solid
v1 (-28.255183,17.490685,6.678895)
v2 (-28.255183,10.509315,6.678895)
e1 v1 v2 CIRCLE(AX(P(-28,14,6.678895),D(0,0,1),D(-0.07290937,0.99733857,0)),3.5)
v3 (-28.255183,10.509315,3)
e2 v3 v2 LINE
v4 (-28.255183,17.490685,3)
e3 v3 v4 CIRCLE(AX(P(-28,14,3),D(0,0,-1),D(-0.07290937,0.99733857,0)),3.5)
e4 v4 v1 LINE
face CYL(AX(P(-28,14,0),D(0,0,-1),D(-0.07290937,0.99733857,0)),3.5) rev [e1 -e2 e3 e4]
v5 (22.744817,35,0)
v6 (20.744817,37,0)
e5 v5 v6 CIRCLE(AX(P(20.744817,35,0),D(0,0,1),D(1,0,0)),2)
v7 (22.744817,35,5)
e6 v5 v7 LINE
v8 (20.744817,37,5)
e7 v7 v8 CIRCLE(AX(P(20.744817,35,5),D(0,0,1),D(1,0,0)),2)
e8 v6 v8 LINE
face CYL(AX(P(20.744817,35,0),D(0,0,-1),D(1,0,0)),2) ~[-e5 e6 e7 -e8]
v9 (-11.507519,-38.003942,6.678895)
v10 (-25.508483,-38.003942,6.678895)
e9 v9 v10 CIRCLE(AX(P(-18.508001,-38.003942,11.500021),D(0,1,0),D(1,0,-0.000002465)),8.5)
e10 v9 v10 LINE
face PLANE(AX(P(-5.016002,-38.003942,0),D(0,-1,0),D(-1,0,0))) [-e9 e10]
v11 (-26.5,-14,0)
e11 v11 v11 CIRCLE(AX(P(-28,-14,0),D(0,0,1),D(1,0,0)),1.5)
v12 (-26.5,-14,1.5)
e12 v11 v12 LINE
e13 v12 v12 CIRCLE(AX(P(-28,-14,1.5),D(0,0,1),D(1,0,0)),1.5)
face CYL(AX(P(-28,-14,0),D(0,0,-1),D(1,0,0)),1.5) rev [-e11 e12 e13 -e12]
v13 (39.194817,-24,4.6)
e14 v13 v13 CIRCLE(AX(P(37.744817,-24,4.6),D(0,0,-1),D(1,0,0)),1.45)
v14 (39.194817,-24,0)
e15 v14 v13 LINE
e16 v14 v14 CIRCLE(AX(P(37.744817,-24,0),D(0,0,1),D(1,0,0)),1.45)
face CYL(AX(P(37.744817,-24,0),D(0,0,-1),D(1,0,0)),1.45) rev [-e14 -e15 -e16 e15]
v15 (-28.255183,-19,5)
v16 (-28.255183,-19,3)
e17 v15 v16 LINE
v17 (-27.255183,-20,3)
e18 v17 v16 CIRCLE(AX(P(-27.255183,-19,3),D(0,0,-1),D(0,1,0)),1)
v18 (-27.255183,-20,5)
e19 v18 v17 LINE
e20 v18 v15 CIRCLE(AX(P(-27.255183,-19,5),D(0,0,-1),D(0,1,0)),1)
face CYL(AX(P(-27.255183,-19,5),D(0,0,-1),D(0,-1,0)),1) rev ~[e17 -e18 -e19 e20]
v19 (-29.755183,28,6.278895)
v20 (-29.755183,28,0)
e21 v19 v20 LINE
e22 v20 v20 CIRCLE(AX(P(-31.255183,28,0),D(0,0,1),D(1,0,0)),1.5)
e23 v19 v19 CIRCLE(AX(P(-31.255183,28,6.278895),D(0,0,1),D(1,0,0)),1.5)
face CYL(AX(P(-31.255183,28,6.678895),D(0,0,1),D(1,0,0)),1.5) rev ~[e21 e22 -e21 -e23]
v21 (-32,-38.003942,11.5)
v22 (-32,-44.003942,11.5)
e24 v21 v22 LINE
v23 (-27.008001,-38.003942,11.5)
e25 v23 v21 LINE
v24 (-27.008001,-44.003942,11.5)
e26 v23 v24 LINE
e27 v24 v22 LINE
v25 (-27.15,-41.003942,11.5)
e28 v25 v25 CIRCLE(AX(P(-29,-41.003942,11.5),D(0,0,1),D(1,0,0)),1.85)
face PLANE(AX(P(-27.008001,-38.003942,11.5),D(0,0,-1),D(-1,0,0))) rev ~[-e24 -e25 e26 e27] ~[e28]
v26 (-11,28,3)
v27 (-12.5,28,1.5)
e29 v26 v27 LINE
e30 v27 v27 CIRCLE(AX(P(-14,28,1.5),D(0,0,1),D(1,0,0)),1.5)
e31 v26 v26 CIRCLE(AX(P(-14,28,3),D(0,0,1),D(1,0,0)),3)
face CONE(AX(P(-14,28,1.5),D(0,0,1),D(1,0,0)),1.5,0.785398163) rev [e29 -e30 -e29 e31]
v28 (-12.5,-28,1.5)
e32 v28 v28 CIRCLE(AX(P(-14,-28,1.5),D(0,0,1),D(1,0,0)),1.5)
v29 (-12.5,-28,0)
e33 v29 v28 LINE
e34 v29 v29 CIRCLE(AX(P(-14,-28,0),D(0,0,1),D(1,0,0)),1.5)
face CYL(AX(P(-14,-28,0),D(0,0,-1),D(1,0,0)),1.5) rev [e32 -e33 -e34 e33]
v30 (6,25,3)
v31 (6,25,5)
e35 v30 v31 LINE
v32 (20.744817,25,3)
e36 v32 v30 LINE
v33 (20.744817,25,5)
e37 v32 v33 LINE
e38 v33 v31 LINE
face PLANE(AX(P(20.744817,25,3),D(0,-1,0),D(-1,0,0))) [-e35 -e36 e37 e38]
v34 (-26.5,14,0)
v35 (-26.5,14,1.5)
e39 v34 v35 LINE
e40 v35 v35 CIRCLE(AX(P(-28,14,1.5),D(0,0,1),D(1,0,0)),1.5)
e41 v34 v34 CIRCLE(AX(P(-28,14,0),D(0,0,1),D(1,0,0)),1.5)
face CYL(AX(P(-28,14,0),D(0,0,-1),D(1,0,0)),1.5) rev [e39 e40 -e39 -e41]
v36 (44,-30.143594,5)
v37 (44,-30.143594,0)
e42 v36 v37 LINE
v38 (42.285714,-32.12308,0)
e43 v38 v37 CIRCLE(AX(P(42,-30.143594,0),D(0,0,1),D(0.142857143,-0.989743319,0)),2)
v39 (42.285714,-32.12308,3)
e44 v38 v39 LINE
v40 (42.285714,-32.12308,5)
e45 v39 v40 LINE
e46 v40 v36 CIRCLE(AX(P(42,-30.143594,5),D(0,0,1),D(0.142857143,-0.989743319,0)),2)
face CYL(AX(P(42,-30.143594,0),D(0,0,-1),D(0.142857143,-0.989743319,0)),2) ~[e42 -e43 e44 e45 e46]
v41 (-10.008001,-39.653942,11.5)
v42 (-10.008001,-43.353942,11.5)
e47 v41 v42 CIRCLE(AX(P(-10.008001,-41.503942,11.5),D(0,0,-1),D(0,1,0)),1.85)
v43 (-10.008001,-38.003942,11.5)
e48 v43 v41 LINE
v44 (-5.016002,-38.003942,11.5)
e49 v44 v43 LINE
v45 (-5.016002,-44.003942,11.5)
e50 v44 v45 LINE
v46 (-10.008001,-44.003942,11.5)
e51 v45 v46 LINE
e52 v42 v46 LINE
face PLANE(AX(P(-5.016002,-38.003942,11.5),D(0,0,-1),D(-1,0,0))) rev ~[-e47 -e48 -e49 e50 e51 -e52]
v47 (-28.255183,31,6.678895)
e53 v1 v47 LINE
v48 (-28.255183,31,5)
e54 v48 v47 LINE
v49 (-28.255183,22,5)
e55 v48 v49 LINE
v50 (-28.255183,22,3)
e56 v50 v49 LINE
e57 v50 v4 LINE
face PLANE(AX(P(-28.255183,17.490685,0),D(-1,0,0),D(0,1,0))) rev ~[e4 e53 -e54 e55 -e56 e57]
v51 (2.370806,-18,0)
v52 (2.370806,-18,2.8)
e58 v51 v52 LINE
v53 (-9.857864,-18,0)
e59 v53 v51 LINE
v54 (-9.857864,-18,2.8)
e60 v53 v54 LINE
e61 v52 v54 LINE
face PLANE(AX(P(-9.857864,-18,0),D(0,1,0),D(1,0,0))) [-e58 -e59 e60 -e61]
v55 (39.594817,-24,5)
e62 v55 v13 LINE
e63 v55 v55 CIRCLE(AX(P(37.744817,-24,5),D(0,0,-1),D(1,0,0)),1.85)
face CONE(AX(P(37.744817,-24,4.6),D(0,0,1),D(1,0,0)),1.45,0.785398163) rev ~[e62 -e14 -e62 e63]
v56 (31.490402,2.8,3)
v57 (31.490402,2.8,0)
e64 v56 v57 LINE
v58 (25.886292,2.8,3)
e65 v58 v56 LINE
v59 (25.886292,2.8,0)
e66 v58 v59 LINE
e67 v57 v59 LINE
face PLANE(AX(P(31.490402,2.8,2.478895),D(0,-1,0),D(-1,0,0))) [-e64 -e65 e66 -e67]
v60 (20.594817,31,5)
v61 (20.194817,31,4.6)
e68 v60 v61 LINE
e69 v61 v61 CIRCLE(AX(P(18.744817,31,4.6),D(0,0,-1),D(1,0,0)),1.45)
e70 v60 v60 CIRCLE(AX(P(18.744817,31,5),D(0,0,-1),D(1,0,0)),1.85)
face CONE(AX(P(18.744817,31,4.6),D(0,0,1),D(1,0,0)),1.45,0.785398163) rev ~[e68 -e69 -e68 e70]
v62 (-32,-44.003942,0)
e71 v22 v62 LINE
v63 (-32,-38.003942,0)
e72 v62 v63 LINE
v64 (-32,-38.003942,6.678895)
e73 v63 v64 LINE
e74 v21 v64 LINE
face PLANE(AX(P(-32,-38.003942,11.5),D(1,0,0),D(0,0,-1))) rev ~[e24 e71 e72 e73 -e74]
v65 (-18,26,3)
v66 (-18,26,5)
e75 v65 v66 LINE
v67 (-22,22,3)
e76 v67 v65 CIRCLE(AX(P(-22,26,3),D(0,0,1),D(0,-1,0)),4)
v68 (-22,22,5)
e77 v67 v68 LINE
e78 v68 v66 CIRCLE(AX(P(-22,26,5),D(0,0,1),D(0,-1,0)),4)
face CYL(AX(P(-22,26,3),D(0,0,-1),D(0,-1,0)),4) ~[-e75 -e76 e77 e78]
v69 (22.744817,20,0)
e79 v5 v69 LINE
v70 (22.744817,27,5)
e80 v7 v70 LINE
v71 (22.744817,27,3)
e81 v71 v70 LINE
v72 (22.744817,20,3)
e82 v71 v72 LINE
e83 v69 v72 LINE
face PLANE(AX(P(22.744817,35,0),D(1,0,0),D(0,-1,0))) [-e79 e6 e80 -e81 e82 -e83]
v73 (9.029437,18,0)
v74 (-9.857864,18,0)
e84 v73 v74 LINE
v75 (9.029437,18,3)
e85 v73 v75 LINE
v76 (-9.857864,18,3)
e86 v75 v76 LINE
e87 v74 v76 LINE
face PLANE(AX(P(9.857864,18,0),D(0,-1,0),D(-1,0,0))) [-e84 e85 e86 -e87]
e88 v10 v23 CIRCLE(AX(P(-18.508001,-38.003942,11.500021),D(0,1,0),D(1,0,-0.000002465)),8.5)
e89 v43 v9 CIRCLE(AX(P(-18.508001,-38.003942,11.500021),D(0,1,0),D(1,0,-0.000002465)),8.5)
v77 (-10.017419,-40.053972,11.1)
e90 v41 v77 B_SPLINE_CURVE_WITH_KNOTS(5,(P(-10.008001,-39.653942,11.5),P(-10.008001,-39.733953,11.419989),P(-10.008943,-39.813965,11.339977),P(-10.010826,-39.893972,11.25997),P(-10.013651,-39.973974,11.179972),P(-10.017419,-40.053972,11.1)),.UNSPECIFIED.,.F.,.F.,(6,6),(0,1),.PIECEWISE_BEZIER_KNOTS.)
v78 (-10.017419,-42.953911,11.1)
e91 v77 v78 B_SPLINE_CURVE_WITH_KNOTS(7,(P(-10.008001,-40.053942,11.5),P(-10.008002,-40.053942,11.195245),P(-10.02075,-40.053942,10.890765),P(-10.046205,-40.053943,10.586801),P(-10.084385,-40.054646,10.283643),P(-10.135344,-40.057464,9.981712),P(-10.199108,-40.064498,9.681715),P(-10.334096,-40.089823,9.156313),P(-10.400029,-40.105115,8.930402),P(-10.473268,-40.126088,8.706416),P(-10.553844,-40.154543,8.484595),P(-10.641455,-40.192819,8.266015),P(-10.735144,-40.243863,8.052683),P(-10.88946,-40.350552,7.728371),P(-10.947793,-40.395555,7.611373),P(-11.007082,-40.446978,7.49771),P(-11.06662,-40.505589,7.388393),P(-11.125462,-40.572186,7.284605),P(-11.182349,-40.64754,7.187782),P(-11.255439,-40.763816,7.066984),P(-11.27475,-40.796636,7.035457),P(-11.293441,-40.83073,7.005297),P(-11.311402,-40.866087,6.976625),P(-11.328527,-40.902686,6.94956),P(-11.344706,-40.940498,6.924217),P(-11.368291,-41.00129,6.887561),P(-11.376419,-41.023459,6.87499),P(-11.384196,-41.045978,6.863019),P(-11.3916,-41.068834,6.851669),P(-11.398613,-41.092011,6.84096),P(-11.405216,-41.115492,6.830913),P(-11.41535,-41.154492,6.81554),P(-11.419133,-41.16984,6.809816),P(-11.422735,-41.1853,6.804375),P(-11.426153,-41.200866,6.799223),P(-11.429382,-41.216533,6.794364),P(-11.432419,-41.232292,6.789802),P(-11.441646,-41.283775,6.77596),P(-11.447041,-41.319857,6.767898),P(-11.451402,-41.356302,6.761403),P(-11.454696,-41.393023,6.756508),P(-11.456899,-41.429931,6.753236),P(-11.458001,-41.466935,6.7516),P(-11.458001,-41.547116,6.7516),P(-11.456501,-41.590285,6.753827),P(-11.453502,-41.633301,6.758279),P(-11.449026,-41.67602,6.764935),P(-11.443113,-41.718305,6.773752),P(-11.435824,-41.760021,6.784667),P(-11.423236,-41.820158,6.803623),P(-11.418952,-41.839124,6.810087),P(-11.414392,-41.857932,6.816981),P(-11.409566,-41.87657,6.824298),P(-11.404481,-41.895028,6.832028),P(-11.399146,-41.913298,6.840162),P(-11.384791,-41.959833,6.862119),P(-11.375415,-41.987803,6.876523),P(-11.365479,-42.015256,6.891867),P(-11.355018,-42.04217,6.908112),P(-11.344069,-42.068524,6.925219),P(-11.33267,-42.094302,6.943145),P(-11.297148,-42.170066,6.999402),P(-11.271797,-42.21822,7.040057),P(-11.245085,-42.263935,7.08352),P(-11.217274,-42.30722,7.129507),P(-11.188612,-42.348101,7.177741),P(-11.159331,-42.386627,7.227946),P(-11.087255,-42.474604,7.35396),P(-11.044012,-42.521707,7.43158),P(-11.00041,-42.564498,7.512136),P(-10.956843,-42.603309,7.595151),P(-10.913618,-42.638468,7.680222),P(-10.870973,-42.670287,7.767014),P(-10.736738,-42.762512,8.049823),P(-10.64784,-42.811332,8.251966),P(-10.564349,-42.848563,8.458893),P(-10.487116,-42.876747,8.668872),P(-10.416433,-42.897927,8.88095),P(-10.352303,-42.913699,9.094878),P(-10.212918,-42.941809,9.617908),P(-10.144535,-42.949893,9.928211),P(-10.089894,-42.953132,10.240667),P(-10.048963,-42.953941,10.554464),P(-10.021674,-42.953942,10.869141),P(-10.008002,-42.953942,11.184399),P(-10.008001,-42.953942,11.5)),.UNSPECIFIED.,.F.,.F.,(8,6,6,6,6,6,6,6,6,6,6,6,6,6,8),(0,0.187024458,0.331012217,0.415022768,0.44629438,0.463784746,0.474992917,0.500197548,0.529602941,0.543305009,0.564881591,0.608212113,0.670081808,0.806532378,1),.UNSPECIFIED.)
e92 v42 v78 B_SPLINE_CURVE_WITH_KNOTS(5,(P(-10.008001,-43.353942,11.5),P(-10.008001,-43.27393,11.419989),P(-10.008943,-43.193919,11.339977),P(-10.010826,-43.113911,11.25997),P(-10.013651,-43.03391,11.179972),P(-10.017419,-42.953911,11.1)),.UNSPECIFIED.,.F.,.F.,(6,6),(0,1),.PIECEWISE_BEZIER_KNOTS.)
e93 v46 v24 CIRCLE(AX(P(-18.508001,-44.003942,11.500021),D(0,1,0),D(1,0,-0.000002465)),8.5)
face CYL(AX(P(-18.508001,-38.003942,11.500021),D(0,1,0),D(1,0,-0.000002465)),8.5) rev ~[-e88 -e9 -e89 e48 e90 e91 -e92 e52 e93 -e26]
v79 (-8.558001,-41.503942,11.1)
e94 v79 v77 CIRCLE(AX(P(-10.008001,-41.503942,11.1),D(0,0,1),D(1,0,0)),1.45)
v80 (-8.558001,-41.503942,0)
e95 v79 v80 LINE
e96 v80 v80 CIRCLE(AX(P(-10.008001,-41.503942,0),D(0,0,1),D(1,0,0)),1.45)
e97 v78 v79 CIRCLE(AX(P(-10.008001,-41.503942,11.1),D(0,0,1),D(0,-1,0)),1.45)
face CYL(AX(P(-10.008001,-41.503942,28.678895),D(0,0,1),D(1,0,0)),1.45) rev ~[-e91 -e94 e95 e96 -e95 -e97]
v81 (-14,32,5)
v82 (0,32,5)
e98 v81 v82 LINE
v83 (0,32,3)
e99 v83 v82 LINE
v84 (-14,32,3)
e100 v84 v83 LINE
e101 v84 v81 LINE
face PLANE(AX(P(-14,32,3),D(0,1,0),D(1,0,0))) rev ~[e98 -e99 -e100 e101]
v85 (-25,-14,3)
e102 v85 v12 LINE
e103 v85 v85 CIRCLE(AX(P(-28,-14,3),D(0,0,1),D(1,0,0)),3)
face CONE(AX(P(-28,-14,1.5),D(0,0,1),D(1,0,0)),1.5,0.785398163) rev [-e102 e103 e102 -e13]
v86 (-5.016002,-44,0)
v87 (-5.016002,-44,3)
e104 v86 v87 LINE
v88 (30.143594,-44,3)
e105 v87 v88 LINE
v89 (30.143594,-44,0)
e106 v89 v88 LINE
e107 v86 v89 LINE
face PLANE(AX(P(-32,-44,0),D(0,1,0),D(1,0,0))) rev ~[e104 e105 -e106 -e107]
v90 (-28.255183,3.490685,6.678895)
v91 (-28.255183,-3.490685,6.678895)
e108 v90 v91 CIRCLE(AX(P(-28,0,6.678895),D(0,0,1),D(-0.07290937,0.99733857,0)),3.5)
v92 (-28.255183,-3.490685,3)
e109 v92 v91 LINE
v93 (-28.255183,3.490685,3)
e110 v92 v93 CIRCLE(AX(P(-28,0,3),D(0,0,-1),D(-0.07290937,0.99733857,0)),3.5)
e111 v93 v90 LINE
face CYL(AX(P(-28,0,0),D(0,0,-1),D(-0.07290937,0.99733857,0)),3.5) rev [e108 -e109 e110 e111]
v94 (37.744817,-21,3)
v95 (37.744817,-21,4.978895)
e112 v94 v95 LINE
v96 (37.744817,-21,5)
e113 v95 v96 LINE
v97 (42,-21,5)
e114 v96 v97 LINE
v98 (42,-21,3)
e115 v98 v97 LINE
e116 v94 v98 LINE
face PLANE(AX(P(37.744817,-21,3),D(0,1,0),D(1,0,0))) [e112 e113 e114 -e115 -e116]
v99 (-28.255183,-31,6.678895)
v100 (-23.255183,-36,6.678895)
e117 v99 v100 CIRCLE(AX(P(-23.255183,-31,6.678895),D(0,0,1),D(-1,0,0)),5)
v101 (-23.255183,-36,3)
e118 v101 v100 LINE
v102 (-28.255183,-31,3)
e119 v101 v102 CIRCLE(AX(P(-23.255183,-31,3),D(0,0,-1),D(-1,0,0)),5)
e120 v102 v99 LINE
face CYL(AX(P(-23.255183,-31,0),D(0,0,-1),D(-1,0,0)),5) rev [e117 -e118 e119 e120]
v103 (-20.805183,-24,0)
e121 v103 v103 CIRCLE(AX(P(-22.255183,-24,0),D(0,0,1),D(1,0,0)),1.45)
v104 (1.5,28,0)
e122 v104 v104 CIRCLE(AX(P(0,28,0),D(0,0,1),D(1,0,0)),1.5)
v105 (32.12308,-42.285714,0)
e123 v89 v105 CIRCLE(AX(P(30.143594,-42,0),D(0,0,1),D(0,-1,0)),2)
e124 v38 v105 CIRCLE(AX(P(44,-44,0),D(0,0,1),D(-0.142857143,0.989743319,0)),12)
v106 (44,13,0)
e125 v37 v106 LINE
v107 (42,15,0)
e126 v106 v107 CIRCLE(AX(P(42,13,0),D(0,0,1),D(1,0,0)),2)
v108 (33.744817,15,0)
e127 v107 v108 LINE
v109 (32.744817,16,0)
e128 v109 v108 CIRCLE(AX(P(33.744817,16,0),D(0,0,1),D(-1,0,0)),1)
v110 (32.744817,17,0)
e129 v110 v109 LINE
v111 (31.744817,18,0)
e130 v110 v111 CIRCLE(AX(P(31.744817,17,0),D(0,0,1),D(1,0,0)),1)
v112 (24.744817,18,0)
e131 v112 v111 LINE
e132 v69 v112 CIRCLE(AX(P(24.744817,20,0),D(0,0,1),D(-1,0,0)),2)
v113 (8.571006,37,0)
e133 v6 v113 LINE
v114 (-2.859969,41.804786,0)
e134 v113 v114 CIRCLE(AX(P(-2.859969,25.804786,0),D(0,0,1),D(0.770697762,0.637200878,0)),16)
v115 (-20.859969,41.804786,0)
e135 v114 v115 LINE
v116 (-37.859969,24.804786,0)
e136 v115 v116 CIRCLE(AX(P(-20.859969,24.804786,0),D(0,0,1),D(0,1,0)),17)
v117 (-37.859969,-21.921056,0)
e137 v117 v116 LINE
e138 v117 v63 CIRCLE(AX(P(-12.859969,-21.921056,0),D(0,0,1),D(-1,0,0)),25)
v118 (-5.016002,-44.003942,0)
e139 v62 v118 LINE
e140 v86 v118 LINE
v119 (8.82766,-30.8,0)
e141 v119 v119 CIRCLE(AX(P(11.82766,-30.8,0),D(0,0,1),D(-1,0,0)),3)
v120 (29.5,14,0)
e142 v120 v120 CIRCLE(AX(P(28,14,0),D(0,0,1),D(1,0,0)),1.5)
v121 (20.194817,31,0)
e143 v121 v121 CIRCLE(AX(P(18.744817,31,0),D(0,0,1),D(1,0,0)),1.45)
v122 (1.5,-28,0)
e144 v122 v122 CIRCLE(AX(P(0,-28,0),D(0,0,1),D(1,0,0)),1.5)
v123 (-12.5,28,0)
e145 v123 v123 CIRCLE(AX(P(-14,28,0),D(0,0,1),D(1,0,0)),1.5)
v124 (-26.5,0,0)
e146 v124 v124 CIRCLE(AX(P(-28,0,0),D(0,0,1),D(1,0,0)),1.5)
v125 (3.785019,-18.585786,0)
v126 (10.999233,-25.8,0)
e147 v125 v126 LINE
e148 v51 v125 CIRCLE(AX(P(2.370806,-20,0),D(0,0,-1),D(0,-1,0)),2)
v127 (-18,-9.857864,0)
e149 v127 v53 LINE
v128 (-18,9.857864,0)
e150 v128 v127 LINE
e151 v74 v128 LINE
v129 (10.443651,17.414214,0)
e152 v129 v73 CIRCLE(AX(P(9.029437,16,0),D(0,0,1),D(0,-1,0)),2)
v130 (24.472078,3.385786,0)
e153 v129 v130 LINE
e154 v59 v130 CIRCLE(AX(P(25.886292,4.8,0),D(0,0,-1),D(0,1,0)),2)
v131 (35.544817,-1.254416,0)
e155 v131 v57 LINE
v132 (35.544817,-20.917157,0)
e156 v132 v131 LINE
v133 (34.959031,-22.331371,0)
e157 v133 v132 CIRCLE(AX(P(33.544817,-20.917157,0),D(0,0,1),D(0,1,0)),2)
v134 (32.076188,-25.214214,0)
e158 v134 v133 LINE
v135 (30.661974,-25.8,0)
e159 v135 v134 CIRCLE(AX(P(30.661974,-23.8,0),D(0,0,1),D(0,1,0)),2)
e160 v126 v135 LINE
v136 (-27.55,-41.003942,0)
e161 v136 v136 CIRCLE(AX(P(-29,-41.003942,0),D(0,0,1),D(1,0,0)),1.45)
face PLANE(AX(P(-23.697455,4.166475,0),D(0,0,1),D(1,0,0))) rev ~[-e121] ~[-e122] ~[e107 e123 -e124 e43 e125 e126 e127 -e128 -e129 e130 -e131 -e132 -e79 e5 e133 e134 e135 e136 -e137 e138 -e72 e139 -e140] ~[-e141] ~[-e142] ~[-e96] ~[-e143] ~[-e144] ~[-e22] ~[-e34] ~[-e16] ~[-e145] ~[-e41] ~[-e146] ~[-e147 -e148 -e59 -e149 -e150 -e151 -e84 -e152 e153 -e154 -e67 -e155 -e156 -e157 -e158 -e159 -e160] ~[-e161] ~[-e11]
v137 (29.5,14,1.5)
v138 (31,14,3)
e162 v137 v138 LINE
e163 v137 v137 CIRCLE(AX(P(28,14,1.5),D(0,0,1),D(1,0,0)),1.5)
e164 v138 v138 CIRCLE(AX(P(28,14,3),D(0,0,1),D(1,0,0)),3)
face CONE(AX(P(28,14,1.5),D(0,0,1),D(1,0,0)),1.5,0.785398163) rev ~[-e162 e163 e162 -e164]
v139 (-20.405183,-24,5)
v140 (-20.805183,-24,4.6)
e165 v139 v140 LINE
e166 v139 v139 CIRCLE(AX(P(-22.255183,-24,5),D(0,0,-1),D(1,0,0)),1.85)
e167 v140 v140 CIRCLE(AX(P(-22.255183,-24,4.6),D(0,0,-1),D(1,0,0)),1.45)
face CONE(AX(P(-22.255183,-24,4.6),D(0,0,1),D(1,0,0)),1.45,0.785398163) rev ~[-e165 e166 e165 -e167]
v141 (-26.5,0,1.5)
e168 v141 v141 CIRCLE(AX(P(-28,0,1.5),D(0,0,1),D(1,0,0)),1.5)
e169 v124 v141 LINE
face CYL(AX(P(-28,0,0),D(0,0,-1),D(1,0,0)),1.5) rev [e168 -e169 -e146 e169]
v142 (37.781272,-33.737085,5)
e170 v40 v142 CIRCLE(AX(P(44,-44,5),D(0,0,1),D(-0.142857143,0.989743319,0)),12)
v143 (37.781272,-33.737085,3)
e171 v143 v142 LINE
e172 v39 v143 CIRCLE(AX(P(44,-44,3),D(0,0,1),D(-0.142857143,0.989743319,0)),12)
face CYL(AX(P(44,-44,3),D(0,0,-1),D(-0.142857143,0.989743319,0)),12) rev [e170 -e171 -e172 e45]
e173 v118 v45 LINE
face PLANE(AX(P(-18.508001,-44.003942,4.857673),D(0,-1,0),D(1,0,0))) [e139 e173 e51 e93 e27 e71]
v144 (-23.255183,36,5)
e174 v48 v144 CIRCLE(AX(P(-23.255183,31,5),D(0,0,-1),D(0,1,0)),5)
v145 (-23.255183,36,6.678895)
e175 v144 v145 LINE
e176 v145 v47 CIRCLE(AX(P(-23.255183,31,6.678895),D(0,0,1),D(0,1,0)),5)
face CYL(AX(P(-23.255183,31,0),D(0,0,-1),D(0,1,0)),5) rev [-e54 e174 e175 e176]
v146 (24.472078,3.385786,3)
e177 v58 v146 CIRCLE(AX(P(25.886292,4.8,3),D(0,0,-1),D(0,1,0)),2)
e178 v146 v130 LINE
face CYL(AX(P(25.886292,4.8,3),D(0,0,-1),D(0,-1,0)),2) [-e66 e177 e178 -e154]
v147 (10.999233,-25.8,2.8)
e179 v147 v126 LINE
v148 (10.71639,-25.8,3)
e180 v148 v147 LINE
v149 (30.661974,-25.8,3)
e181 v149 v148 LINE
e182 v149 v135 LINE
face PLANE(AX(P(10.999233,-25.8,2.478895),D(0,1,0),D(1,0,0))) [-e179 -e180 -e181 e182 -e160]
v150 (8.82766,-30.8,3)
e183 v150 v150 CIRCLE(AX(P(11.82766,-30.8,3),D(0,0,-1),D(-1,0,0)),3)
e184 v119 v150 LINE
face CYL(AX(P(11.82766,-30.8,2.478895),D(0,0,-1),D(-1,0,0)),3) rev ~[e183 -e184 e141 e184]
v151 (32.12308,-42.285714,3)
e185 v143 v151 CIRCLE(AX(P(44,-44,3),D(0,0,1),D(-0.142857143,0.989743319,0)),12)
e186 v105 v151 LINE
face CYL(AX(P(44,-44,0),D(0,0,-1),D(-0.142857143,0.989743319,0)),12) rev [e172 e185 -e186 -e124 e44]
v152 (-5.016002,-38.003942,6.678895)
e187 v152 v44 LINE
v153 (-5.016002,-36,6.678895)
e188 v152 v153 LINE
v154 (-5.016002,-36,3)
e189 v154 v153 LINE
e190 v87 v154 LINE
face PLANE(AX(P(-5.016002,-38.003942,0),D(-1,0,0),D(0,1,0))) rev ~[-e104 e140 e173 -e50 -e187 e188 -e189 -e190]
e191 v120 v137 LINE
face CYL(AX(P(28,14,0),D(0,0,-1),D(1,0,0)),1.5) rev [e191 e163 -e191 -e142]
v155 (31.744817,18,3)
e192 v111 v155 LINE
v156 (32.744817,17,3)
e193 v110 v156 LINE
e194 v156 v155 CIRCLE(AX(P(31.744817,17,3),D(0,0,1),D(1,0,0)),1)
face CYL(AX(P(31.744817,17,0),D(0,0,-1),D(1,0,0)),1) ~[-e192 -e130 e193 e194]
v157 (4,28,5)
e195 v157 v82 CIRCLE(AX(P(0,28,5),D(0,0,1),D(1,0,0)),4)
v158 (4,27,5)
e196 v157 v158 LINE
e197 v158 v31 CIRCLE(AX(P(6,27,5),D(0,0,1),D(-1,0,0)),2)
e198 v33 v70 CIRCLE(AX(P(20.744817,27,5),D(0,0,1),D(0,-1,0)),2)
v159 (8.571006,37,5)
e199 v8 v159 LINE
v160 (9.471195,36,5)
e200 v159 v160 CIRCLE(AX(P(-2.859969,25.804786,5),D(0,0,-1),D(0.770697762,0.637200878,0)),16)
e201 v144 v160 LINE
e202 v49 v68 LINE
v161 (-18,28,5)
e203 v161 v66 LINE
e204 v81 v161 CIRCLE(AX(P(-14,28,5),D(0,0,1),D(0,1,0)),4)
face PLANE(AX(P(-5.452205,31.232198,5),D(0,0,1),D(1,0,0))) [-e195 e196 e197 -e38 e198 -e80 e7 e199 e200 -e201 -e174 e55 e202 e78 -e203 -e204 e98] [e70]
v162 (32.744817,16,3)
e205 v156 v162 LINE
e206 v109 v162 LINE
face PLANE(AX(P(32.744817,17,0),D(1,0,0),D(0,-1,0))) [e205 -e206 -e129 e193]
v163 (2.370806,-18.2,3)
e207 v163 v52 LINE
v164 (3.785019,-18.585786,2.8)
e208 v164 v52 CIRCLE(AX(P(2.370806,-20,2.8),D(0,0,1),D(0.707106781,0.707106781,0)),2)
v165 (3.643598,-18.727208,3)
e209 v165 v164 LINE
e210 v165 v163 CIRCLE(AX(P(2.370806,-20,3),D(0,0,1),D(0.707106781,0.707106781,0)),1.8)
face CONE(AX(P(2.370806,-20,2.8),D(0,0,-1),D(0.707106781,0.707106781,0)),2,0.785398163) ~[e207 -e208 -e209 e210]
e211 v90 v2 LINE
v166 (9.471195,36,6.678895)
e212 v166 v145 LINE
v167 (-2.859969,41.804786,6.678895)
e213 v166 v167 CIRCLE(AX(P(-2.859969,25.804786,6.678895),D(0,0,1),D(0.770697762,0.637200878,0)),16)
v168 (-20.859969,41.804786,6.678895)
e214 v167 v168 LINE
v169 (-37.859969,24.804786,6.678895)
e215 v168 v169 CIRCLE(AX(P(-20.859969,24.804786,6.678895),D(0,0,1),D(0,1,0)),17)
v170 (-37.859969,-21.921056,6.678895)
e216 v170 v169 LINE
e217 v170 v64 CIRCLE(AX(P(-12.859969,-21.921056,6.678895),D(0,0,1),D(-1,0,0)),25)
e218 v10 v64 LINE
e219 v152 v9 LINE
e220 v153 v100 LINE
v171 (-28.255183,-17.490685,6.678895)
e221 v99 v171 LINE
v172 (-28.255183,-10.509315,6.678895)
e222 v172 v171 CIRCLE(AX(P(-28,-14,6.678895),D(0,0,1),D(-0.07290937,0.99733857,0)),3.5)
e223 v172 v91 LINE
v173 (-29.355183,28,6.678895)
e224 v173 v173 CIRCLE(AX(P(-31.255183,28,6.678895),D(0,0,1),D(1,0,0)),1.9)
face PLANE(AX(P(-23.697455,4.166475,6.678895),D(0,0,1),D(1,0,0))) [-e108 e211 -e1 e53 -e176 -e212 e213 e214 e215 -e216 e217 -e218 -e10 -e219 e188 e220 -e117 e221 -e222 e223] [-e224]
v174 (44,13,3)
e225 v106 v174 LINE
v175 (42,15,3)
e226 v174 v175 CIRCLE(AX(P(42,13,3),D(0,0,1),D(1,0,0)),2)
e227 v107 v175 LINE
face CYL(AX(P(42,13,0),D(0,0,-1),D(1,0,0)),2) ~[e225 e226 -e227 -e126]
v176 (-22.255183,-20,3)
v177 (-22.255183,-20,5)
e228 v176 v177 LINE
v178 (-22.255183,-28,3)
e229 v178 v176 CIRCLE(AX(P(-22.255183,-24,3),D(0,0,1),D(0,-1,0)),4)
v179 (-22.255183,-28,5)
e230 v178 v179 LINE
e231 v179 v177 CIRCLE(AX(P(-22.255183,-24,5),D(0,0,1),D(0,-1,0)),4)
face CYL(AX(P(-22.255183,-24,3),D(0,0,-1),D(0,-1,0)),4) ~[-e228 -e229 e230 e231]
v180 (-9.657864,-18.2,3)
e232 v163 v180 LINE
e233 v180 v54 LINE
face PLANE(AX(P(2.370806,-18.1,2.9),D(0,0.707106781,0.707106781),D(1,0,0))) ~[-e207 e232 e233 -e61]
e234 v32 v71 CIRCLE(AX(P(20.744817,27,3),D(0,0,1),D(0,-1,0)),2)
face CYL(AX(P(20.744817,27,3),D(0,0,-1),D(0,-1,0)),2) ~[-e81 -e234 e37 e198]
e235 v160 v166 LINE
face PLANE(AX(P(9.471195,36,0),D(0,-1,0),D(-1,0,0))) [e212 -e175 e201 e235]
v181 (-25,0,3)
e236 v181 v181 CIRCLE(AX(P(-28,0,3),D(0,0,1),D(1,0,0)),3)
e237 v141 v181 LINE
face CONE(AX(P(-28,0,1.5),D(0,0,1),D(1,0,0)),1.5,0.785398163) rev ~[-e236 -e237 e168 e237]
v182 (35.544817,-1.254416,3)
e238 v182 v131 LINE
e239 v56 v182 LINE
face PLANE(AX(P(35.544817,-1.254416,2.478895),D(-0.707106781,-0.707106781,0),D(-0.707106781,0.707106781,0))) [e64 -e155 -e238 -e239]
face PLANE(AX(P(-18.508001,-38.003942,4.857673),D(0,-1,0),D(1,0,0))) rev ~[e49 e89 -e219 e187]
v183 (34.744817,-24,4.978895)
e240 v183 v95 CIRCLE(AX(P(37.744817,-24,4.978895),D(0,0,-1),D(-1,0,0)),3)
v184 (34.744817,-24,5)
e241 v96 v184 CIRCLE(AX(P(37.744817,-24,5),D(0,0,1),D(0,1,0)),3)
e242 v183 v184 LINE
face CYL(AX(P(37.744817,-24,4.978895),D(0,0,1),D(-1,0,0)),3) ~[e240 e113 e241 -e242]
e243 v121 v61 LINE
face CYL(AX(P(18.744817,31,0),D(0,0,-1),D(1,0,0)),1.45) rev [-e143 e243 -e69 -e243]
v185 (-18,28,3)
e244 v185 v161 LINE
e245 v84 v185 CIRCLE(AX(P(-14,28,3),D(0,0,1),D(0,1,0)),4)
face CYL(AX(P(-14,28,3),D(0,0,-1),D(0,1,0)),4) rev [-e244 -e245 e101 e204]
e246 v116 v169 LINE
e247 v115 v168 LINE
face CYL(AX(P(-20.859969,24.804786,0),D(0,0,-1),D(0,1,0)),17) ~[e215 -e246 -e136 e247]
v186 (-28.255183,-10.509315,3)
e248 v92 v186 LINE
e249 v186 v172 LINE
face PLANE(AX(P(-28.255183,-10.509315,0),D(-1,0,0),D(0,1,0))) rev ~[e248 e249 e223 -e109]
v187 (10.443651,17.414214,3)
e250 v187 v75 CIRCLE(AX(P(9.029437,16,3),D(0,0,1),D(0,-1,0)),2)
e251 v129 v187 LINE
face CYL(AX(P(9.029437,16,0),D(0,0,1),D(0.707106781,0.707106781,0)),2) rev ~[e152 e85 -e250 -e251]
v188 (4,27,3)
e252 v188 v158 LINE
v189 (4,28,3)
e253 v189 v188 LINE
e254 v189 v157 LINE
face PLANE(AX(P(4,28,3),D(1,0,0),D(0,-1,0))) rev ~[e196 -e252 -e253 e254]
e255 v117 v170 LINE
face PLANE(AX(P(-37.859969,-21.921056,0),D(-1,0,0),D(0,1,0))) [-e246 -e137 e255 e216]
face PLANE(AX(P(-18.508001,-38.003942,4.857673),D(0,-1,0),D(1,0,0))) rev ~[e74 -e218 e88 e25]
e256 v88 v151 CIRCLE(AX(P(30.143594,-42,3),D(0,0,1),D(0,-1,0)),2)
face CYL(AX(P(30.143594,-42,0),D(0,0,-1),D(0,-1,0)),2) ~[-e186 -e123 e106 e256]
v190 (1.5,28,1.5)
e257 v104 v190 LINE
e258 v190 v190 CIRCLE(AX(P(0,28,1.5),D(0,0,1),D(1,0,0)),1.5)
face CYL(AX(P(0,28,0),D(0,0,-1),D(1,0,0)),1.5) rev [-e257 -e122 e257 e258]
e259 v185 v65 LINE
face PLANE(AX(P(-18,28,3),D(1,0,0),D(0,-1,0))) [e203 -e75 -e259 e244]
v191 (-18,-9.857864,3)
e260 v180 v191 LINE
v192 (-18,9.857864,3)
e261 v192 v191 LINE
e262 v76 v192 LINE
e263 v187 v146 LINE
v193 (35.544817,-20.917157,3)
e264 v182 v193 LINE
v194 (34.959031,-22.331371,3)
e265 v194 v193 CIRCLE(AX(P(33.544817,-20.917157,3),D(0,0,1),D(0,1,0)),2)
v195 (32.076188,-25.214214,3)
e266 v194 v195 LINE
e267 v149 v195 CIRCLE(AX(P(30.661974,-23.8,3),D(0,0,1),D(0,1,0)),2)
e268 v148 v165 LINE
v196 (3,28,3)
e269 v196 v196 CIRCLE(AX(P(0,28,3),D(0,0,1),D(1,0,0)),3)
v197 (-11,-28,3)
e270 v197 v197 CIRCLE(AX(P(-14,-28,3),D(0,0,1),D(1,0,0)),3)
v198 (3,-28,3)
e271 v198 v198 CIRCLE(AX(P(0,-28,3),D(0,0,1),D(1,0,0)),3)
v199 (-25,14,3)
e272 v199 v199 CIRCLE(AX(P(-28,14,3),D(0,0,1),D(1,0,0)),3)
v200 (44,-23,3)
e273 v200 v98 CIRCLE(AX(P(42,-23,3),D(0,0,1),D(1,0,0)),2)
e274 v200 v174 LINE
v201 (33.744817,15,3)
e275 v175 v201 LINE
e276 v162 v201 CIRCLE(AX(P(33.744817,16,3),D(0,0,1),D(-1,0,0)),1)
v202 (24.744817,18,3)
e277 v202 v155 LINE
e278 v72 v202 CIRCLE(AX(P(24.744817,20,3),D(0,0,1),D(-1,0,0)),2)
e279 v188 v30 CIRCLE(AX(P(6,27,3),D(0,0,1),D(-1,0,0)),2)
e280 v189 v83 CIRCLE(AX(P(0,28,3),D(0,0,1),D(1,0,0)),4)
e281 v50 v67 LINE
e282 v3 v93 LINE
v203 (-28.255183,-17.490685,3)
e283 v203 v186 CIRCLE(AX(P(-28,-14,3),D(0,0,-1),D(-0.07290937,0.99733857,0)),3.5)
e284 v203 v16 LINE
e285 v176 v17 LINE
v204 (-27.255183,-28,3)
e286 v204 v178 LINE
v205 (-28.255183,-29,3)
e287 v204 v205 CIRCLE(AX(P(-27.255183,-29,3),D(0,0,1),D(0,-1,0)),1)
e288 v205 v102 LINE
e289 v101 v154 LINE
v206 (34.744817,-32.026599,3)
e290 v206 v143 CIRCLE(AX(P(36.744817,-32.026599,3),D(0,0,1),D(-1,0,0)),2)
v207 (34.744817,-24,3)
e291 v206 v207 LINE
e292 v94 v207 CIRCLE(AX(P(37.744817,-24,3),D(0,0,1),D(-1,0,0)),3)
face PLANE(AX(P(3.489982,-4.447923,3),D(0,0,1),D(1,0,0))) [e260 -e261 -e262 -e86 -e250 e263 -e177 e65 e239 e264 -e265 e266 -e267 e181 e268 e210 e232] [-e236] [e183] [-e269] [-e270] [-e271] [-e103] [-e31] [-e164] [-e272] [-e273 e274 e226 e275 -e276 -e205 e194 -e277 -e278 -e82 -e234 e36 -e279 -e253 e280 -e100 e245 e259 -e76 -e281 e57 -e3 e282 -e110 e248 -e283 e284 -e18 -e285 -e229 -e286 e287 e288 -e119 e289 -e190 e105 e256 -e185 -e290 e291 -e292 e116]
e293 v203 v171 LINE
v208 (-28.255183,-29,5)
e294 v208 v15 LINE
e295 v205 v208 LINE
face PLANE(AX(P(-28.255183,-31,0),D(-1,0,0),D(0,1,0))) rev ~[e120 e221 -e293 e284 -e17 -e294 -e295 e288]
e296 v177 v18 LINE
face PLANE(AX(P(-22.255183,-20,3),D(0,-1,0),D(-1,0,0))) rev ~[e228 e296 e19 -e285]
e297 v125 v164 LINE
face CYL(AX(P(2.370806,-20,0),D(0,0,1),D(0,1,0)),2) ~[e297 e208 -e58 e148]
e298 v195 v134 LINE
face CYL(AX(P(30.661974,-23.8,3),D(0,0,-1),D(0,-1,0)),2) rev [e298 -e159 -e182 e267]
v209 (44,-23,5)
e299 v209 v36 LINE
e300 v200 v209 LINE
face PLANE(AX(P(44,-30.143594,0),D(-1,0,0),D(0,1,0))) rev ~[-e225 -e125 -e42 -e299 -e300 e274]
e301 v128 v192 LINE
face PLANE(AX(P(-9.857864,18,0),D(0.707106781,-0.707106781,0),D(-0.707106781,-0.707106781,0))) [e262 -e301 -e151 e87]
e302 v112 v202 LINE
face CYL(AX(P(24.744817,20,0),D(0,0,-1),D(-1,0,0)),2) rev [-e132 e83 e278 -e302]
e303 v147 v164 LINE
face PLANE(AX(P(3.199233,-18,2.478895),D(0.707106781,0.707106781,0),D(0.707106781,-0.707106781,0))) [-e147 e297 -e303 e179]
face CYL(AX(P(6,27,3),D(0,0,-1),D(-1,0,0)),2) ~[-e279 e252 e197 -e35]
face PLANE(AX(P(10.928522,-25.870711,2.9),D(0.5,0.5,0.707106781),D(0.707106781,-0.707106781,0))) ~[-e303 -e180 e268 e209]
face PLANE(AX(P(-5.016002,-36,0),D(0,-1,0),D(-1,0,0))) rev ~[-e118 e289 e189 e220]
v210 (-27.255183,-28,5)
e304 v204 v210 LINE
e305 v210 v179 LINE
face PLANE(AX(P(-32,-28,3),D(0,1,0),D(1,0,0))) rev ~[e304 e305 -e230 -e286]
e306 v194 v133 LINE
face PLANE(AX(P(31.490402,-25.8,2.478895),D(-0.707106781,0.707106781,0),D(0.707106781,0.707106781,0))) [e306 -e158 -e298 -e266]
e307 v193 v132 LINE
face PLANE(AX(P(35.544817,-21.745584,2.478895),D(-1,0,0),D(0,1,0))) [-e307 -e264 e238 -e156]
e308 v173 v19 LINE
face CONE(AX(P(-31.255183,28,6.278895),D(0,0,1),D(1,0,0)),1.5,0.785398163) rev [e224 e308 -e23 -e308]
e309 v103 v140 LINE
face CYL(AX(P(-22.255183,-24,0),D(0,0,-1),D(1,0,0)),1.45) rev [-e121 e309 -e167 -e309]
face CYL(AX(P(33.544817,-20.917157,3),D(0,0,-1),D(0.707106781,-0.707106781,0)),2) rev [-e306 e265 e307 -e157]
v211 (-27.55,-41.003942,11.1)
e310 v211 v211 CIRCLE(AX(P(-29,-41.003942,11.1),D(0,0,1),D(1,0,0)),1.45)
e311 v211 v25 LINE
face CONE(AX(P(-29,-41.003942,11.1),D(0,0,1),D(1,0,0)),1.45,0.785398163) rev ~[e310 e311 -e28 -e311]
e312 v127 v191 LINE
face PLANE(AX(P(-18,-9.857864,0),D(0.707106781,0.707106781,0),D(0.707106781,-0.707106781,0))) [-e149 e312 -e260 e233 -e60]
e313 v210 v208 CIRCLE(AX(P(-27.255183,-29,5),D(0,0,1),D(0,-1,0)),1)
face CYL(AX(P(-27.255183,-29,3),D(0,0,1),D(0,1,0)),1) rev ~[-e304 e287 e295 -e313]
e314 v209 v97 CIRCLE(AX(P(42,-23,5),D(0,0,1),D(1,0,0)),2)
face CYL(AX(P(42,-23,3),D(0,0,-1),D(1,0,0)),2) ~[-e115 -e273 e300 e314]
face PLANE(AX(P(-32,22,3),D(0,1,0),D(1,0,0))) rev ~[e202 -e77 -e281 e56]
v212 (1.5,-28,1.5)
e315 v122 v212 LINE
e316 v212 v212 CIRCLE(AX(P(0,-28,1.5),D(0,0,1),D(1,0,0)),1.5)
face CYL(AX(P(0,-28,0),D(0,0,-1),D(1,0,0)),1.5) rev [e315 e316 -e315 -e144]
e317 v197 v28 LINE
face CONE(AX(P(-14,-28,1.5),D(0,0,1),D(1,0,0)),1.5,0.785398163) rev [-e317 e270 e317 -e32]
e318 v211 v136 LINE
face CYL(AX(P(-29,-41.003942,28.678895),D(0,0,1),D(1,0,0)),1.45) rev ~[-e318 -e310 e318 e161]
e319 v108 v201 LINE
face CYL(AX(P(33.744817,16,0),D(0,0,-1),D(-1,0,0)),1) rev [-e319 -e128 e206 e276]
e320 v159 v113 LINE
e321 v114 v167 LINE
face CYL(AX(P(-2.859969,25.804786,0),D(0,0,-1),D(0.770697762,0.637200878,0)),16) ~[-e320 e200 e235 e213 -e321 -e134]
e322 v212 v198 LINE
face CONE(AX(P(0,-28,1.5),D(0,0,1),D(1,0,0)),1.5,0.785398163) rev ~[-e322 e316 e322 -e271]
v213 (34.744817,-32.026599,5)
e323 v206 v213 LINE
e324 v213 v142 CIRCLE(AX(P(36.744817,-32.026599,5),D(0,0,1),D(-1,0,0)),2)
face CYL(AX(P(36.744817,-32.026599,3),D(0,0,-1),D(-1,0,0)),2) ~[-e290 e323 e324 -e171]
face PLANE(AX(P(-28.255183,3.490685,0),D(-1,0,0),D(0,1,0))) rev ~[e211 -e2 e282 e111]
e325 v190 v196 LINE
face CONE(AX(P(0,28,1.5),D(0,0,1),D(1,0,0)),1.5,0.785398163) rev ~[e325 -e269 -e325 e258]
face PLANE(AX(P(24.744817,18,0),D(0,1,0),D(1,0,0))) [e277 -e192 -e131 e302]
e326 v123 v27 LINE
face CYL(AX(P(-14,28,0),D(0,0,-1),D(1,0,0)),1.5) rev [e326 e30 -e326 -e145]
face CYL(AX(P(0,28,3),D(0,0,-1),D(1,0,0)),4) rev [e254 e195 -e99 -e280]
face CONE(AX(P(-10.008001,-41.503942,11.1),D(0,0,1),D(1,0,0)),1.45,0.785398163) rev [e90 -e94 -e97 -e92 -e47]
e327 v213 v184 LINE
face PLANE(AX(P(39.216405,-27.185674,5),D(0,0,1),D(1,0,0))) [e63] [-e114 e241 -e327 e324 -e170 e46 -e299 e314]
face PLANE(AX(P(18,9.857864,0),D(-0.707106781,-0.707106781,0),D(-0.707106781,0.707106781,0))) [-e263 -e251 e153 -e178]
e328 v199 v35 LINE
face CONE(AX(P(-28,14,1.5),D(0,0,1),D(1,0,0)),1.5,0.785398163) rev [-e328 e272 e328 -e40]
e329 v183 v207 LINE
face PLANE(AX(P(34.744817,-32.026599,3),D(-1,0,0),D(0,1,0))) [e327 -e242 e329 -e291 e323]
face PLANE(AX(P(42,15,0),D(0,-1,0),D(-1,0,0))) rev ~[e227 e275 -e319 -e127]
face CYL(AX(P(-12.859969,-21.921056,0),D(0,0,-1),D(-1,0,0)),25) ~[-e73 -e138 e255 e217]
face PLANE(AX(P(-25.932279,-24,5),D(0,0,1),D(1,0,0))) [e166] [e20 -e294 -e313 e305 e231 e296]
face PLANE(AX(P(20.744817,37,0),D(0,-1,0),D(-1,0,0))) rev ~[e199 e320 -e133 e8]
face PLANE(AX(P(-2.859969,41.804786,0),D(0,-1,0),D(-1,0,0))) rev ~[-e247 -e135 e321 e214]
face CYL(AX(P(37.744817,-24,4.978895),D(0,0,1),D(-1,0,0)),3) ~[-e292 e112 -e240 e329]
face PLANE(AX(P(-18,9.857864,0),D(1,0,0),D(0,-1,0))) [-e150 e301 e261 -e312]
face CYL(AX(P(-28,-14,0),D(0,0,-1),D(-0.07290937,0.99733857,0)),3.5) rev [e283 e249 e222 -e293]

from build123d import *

# Parameters (mm, degrees)
SKETCH_R             = 1.5
PAD_DEPTH            = 3
CHAMFER_SIZE         = 1.5
SKETCH019_R          = 3
POCKET007_DEPTH      = 5
POCKET007_DEPTH_BACK = 100
SKETCH020_R          = 3
PAD006_DEPTH         = 4
PAD014_DEPTH         = 2
SKETCH021_R          = 1.45
POCKET008_DEPTH      = 10
POCKET008_DEPTH_BACK = 10
PAD018_DEPTH         = 6
PAD009_DEPTH         = 6.6788950282
FILLET_R             = 1
FILLET001_R          = 2
CHAMFER001_SIZE      = 0.2
SKETCH084_R          = 1.5
POCKET014_DEPTH      = 6.6798950282
CHAMFER004_SIZE      = 1.5
SKETCH092_R          = 1.45
POCKET018_DEPTH      = 28.6798950282
CHAMFER009_SIZE      = 0.4


with BuildPart() as part:
    # Sketch → Pad (new body)
    with BuildSketch(Plane.XY):
        with BuildLine():
            Line((-32, -44), (30.1435935394, -44))
            ThreePointArc((30.1435935394, -44), (31.4529008809, -43.511857892), (32.1230801767, -42.2857142857))
            ThreePointArc((42.2857142857, -32.1230801767), (35.5147186258, -35.5147186258), (32.1230801767, -42.2857142857))
            ThreePointArc((42.2857142857, -32.1230801767), (43.511857892, -31.4529008809), (44, -30.1435935394))
            Line((44, -30.1435935394), (44, 13))
            ThreePointArc((44, 13), (43.4142135624, 14.4142135624), (42, 15))
            Line((42, 15), (33.7448172036, 15))
            ThreePointArc((32.7448172036, 16), (33.0377104224, 15.2928932188), (33.7448172036, 15))
            Line((32.7448172036, 17), (32.7448172036, 16))
            ThreePointArc((32.7448172036, 17), (32.4519239848, 17.7071067812), (31.7448172036, 18))
            Line((24.7448172036, 18), (31.7448172036, 18))
            ThreePointArc((22.7448172036, 20), (23.3306036412, 18.5857864376), (24.7448172036, 18))
            Line((22.7448172036, 35), (22.7448172036, 20))
            ThreePointArc((22.7448172036, 35), (22.159030766, 36.4142135624), (20.7448172036, 37))
            Line((20.7448172036, 37), (-27, 37))
            ThreePointArc((-27, 37), (-30.5355339059, 35.5355339059), (-32, 32))
            Line((-32, 32), (-32, -44))
        make_face()
        with Locations((-14, 28)):
            Circle(SKETCH_R, mode=Mode.SUBTRACT)
        with Locations((0, 28)):
            Circle(SKETCH_R, mode=Mode.SUBTRACT)
        with Locations((0, -28)):
            Circle(SKETCH_R, mode=Mode.SUBTRACT)
        with Locations((-14, -28)):
            Circle(SKETCH_R, mode=Mode.SUBTRACT)
        with Locations((28, 14)):
            Circle(SKETCH_R, mode=Mode.SUBTRACT)
        with Locations((-28, -14)):
            Circle(SKETCH_R, mode=Mode.SUBTRACT)
        with Locations((-28, 0)):
            Circle(SKETCH_R, mode=Mode.SUBTRACT)
        with Locations((-28, 14)):
            Circle(SKETCH_R, mode=Mode.SUBTRACT)
        Polygon((9.8578643763, -18), (18, -9.8578643763), (18, 9.8578643763), (9.8578643763, 18), (-9.8578643763, 18), (-18, 9.8578643763), (-18, -9.8578643763), (-9.8578643763, -18), align=None, mode=Mode.SUBTRACT)
    extrude(amount=PAD_DEPTH)

    # Chamfer
    chamfer_edges = [part.edges().sort_by_distance(p)[0] for p in [
        (-1.5, -28, 3),
        (26.5, 14, 3),
        (-1.5, 28, 3),
        (-29.5, 0, 3),
    ]]
    chamfer(chamfer_edges, length=CHAMFER_SIZE)

    # Sketch019 (on Face1 of CopyPart__Feature008) → Pocket007 (cut, two sides)
    with BuildSketch(Plane(origin=(7.7448172036, 0, 2.4788950282), x_dir=(-1, 0, 0), z_dir=(0, 0, -1))) as pocket007_sk:
        with Locations((-4.0828427125, -30.8)):
            Circle(SKETCH019_R)
        Polygon((-23.7455844123, 2.8), (-17.3130471727, 2.8), (-10.2551827964, 9.8578643763), (4.5455844122, 9.8578643763), (4.5455844122, -18), (-3.2544155877, -25.8), (-23.7455844123, -25.8), (-27.8, -21.7455844123), (-27.8, -1.2544155877), align=None)
    extrude(amount=-POCKET007_DEPTH, mode=Mode.SUBTRACT)
    extrude(pocket007_sk.sketch, amount=POCKET007_DEPTH_BACK, mode=Mode.SUBTRACT)

    # Sketch020 (on Face1 of CopyPart__Feature008001) → Pad006 (join)
    with BuildSketch(Plane(origin=(7.7448172036, 0, 4.9788950282), x_dir=(-1, 0, 0), z_dir=(0, 0, -1))):
        with Locations((-11, 31)):
            Circle(SKETCH020_R)
        with Locations((-30, -24)):
            Circle(SKETCH020_R)
        with Locations((30, -24)):
            Circle(SKETCH020_R)
    extrude(amount=PAD006_DEPTH)

    # Sketch037 (on Face4 of Pad006) → Pad014 (join)
    with BuildSketch(Plane.XY.offset(3)):
        with BuildLine():
            ThreePointArc((-22.2551827964, -28), (-18.2551827964, -24), (-22.2551827964, -20))
            Line((-22.2551827964, -20), (-32, -20))
            Line((-32, -20), (-32, -28))
            Line((-32, -28), (-22.2551827964, -28))
        make_face()
        with BuildLine():
            ThreePointArc((-22, 22), (-19.1715728753, 23.1715728753), (-18, 26))
            Line((-18, 28), (-18, 26))
            ThreePointArc((-14, 32), (-16.8284271247, 30.8284271247), (-18, 28))
            Line((-14, 32), (0, 32))
            ThreePointArc((4, 28), (2.8284271247, 30.8284271247), (0, 32))
            Line((4, 28), (4, 27))
            ThreePointArc((4, 27), (4.5857864376, 25.5857864376), (6, 25))
            Line((20.7448172036, 25), (6, 25))
            ThreePointArc((20.7448172036, 25), (22.159030766, 25.5857864376), (22.7448172036, 27))
            Line((22.7448172036, 35), (22.7448172036, 27))
            ThreePointArc((22.7448172036, 35), (22.159030766, 36.4142135624), (20.7448172036, 37))
            Line((20.7448172036, 37), (-27, 37))
            ThreePointArc((-27, 37), (-30.5355339059, 35.5355339059), (-32, 32))
            Line((-32, 32), (-32, 22))
            Line((-32, 22), (-22, 22))
        make_face()
        with BuildLine():
            ThreePointArc((37.7448172036, -21), (35.6234968601, -21.8786796564), (34.7448172036, -24))
            Line((34.7448172036, -32.0265993723), (34.7448172036, -24))
            ThreePointArc((34.7448172036, -32.0265993723), (35.7632137629, -33.7691419644), (37.7812718888, -33.7370851763))
            ThreePointArc((42.2857142857, -32.1230801767), (39.9522314637, -32.7032938484), (37.7812718888, -33.7370851763))
            ThreePointArc((42.2857142857, -32.1230801767), (43.511857892, -31.4529008809), (44, -30.1435935394))
            Line((44, -23), (44, -30.1435935394))
            ThreePointArc((44, -23), (43.4142135624, -21.5857864376), (42, -21))
            Line((37.7448172036, -21), (42, -21))
        make_face()
    extrude(amount=PAD014_DEPTH)

    # Sketch021 → Pocket008 (cut, two sides)
    with BuildSketch(Plane.XY) as pocket008_sk:
        with Locations((18.7448172036, 31)):
            Circle(SKETCH021_R)
        with Locations((37.7448172036, -24)):
            Circle(SKETCH021_R)
        with Locations((-22.2551827964, -24)):
            Circle(SKETCH021_R)
    extrude(amount=-POCKET008_DEPTH, mode=Mode.SUBTRACT)
    extrude(pocket008_sk.sketch, amount=POCKET008_DEPTH_BACK, mode=Mode.SUBTRACT)

    # Sketch047 (on Face1 of ShapeBinder003) → Pad018 (join)
    with BuildSketch(Plane(origin=(0, -38.0039418631, 0), x_dir=(-1, 0, 0), z_dir=(0, 1, 0))):
        with BuildLine():
            Line((5.016001945, 11.5), (10.0080009725, 11.5))
            ThreePointArc((10.0080009725, 11.5), (18.5080009725, 3.0000209515), (27.0080009725, 11.5))
            Line((27.0080009725, 11.5), (32, 11.5))
            Line((32, 11.5), (32, 0))
            Line((32, 0), (5.016001945, 0))
            Line((5.016001945, 0), (5.016001945, 11.5))
        make_face()
    extrude(amount=-PAD018_DEPTH)

    # Sketch025 → Pad009 (join)
    with BuildSketch(Plane.XY):
        with BuildLine():
            Line((-2.8599687425, 41.8047859461), (-20.8599687425, 41.8047859461))
            ThreePointArc((-20.8599687425, 41.8047859461), (-32.8807840227, 36.8256012263), (-37.8599687425, 24.8047859461))
            Line((-37.8599687425, -21.9210564422), (-37.8599687425, 24.8047859461))
            ThreePointArc((-37.8599687425, -21.9210564422), (-36.3493363525, -30.4796550005), (-32, -38.0039418631))
            Line((-5.016001945, -38.0039418631), (-32, -38.0039418631))
            Line((-5.016001945, -38.0039418631), (-5.016001945, -36))
            Line((-5.016001945, -36), (-23.2551827964, -36))
            ThreePointArc((-28.2551827964, -31), (-26.7907167023, -34.5355339059), (-23.2551827964, -36))
            Line((-28.2551827964, -31), (-28.2551827964, -17.4906849959))
            ThreePointArc((-28.2551827964, -10.5093150041), (-31.5, -14), (-28.2551827964, -17.4906849959))
            Line((-28.2551827964, -10.5093150041), (-28.2551827964, -3.4906849959))
            ThreePointArc((-28.2551827964, 3.4906849959), (-31.5, 0), (-28.2551827964, -3.4906849959))
            Line((-28.2551827964, 3.4906849959), (-28.2551827964, 10.5093150041))
            ThreePointArc((-28.2551827964, 17.4906849959), (-31.5, 14), (-28.2551827964, 10.5093150041))
            Line((-28.2551827964, 17.4906849959), (-28.2551827964, 31))
            ThreePointArc((-23.2551827964, 36), (-26.7907167023, 34.5355339059), (-28.2551827964, 31))
            Line((9.4711954522, 36), (-23.2551827964, 36))
            ThreePointArc((9.4711954522, 36), (3.9545956287, 40.2810324358), (-2.8599687425, 41.8047859461))
        make_face()
    extrude(amount=PAD009_DEPTH)

    # Fillet
    fillet_edges = [part.edges().sort_by_distance(p)[0] for p in [
        (-28.255183, -20, 4),
        (-28.255183, -28, 4),
    ]]
    fillet(fillet_edges, radius=FILLET_R)

    # Fillet001
    fillet001_edges = [part.edges().sort_by_distance(p)[0] for p in [
        (9.857864, 18, 1.5),
        (35.544817, -21.745584, 1.5),
        (25.057864, 2.8, 1.5),
        (31.490402, -25.8, 1.5),
        (3.199233, -18, 1.5),
    ]]
    fillet(fillet001_edges, radius=FILLET001_R)

    # Chamfer001
    chamfer001_edges = [part.edges().sort_by_distance(p)[0] for p in [
        (7.392126, -22.192893, 3),
    ]]
    chamfer(chamfer001_edges, length=CHAMFER001_SIZE)

    # Sketch084 (on Face77 of Chamfer001) → Pocket014 (cut, through all)
    with BuildSketch(Plane.XY.offset(6.6788950282)):
        with Locations((-31.2551827964, 28)):
            Circle(SKETCH084_R)
    extrude(amount=-POCKET014_DEPTH, mode=Mode.SUBTRACT)

    # Chamfer004
    chamfer004_edges = [part.edges().sort_by_distance(p)[0] for p in [
        (-15.5, 28, 3),
        (-15.5, -28, 3),
        (-29.5, 14, 3),
        (-29.5, -14, 3),
    ]]
    chamfer(chamfer004_edges, length=CHAMFER004_SIZE)

    # Sketch092 (on Face1 of CopyCopyPad022) → Pocket018 (cut, through all)
    with BuildSketch(Plane.XY.offset(28.6788950282)):
        with Locations((-29, -41.0039418631)):
            Circle(SKETCH092_R)
        with Locations((-10.0080009725, -41.5039418631)):
            Circle(SKETCH092_R)
    extrude(amount=-POCKET018_DEPTH, mode=Mode.SUBTRACT)

    # Chamfer009
    chamfer009_edges = [part.edges().sort_by_distance(p)[0] for p in [
        (-32.755183, 28, 6.678895),
        (17.294817, 31, 5),
        (36.294817, -24, 5),
        (-23.705183, -24, 5),
        (-30.45, -41.003942, 11.5),
        (-8.982696, -42.529247, 11.5),
    ]]
    chamfer(chamfer009_edges, length=CHAMFER009_SIZE)


solid = part.part
